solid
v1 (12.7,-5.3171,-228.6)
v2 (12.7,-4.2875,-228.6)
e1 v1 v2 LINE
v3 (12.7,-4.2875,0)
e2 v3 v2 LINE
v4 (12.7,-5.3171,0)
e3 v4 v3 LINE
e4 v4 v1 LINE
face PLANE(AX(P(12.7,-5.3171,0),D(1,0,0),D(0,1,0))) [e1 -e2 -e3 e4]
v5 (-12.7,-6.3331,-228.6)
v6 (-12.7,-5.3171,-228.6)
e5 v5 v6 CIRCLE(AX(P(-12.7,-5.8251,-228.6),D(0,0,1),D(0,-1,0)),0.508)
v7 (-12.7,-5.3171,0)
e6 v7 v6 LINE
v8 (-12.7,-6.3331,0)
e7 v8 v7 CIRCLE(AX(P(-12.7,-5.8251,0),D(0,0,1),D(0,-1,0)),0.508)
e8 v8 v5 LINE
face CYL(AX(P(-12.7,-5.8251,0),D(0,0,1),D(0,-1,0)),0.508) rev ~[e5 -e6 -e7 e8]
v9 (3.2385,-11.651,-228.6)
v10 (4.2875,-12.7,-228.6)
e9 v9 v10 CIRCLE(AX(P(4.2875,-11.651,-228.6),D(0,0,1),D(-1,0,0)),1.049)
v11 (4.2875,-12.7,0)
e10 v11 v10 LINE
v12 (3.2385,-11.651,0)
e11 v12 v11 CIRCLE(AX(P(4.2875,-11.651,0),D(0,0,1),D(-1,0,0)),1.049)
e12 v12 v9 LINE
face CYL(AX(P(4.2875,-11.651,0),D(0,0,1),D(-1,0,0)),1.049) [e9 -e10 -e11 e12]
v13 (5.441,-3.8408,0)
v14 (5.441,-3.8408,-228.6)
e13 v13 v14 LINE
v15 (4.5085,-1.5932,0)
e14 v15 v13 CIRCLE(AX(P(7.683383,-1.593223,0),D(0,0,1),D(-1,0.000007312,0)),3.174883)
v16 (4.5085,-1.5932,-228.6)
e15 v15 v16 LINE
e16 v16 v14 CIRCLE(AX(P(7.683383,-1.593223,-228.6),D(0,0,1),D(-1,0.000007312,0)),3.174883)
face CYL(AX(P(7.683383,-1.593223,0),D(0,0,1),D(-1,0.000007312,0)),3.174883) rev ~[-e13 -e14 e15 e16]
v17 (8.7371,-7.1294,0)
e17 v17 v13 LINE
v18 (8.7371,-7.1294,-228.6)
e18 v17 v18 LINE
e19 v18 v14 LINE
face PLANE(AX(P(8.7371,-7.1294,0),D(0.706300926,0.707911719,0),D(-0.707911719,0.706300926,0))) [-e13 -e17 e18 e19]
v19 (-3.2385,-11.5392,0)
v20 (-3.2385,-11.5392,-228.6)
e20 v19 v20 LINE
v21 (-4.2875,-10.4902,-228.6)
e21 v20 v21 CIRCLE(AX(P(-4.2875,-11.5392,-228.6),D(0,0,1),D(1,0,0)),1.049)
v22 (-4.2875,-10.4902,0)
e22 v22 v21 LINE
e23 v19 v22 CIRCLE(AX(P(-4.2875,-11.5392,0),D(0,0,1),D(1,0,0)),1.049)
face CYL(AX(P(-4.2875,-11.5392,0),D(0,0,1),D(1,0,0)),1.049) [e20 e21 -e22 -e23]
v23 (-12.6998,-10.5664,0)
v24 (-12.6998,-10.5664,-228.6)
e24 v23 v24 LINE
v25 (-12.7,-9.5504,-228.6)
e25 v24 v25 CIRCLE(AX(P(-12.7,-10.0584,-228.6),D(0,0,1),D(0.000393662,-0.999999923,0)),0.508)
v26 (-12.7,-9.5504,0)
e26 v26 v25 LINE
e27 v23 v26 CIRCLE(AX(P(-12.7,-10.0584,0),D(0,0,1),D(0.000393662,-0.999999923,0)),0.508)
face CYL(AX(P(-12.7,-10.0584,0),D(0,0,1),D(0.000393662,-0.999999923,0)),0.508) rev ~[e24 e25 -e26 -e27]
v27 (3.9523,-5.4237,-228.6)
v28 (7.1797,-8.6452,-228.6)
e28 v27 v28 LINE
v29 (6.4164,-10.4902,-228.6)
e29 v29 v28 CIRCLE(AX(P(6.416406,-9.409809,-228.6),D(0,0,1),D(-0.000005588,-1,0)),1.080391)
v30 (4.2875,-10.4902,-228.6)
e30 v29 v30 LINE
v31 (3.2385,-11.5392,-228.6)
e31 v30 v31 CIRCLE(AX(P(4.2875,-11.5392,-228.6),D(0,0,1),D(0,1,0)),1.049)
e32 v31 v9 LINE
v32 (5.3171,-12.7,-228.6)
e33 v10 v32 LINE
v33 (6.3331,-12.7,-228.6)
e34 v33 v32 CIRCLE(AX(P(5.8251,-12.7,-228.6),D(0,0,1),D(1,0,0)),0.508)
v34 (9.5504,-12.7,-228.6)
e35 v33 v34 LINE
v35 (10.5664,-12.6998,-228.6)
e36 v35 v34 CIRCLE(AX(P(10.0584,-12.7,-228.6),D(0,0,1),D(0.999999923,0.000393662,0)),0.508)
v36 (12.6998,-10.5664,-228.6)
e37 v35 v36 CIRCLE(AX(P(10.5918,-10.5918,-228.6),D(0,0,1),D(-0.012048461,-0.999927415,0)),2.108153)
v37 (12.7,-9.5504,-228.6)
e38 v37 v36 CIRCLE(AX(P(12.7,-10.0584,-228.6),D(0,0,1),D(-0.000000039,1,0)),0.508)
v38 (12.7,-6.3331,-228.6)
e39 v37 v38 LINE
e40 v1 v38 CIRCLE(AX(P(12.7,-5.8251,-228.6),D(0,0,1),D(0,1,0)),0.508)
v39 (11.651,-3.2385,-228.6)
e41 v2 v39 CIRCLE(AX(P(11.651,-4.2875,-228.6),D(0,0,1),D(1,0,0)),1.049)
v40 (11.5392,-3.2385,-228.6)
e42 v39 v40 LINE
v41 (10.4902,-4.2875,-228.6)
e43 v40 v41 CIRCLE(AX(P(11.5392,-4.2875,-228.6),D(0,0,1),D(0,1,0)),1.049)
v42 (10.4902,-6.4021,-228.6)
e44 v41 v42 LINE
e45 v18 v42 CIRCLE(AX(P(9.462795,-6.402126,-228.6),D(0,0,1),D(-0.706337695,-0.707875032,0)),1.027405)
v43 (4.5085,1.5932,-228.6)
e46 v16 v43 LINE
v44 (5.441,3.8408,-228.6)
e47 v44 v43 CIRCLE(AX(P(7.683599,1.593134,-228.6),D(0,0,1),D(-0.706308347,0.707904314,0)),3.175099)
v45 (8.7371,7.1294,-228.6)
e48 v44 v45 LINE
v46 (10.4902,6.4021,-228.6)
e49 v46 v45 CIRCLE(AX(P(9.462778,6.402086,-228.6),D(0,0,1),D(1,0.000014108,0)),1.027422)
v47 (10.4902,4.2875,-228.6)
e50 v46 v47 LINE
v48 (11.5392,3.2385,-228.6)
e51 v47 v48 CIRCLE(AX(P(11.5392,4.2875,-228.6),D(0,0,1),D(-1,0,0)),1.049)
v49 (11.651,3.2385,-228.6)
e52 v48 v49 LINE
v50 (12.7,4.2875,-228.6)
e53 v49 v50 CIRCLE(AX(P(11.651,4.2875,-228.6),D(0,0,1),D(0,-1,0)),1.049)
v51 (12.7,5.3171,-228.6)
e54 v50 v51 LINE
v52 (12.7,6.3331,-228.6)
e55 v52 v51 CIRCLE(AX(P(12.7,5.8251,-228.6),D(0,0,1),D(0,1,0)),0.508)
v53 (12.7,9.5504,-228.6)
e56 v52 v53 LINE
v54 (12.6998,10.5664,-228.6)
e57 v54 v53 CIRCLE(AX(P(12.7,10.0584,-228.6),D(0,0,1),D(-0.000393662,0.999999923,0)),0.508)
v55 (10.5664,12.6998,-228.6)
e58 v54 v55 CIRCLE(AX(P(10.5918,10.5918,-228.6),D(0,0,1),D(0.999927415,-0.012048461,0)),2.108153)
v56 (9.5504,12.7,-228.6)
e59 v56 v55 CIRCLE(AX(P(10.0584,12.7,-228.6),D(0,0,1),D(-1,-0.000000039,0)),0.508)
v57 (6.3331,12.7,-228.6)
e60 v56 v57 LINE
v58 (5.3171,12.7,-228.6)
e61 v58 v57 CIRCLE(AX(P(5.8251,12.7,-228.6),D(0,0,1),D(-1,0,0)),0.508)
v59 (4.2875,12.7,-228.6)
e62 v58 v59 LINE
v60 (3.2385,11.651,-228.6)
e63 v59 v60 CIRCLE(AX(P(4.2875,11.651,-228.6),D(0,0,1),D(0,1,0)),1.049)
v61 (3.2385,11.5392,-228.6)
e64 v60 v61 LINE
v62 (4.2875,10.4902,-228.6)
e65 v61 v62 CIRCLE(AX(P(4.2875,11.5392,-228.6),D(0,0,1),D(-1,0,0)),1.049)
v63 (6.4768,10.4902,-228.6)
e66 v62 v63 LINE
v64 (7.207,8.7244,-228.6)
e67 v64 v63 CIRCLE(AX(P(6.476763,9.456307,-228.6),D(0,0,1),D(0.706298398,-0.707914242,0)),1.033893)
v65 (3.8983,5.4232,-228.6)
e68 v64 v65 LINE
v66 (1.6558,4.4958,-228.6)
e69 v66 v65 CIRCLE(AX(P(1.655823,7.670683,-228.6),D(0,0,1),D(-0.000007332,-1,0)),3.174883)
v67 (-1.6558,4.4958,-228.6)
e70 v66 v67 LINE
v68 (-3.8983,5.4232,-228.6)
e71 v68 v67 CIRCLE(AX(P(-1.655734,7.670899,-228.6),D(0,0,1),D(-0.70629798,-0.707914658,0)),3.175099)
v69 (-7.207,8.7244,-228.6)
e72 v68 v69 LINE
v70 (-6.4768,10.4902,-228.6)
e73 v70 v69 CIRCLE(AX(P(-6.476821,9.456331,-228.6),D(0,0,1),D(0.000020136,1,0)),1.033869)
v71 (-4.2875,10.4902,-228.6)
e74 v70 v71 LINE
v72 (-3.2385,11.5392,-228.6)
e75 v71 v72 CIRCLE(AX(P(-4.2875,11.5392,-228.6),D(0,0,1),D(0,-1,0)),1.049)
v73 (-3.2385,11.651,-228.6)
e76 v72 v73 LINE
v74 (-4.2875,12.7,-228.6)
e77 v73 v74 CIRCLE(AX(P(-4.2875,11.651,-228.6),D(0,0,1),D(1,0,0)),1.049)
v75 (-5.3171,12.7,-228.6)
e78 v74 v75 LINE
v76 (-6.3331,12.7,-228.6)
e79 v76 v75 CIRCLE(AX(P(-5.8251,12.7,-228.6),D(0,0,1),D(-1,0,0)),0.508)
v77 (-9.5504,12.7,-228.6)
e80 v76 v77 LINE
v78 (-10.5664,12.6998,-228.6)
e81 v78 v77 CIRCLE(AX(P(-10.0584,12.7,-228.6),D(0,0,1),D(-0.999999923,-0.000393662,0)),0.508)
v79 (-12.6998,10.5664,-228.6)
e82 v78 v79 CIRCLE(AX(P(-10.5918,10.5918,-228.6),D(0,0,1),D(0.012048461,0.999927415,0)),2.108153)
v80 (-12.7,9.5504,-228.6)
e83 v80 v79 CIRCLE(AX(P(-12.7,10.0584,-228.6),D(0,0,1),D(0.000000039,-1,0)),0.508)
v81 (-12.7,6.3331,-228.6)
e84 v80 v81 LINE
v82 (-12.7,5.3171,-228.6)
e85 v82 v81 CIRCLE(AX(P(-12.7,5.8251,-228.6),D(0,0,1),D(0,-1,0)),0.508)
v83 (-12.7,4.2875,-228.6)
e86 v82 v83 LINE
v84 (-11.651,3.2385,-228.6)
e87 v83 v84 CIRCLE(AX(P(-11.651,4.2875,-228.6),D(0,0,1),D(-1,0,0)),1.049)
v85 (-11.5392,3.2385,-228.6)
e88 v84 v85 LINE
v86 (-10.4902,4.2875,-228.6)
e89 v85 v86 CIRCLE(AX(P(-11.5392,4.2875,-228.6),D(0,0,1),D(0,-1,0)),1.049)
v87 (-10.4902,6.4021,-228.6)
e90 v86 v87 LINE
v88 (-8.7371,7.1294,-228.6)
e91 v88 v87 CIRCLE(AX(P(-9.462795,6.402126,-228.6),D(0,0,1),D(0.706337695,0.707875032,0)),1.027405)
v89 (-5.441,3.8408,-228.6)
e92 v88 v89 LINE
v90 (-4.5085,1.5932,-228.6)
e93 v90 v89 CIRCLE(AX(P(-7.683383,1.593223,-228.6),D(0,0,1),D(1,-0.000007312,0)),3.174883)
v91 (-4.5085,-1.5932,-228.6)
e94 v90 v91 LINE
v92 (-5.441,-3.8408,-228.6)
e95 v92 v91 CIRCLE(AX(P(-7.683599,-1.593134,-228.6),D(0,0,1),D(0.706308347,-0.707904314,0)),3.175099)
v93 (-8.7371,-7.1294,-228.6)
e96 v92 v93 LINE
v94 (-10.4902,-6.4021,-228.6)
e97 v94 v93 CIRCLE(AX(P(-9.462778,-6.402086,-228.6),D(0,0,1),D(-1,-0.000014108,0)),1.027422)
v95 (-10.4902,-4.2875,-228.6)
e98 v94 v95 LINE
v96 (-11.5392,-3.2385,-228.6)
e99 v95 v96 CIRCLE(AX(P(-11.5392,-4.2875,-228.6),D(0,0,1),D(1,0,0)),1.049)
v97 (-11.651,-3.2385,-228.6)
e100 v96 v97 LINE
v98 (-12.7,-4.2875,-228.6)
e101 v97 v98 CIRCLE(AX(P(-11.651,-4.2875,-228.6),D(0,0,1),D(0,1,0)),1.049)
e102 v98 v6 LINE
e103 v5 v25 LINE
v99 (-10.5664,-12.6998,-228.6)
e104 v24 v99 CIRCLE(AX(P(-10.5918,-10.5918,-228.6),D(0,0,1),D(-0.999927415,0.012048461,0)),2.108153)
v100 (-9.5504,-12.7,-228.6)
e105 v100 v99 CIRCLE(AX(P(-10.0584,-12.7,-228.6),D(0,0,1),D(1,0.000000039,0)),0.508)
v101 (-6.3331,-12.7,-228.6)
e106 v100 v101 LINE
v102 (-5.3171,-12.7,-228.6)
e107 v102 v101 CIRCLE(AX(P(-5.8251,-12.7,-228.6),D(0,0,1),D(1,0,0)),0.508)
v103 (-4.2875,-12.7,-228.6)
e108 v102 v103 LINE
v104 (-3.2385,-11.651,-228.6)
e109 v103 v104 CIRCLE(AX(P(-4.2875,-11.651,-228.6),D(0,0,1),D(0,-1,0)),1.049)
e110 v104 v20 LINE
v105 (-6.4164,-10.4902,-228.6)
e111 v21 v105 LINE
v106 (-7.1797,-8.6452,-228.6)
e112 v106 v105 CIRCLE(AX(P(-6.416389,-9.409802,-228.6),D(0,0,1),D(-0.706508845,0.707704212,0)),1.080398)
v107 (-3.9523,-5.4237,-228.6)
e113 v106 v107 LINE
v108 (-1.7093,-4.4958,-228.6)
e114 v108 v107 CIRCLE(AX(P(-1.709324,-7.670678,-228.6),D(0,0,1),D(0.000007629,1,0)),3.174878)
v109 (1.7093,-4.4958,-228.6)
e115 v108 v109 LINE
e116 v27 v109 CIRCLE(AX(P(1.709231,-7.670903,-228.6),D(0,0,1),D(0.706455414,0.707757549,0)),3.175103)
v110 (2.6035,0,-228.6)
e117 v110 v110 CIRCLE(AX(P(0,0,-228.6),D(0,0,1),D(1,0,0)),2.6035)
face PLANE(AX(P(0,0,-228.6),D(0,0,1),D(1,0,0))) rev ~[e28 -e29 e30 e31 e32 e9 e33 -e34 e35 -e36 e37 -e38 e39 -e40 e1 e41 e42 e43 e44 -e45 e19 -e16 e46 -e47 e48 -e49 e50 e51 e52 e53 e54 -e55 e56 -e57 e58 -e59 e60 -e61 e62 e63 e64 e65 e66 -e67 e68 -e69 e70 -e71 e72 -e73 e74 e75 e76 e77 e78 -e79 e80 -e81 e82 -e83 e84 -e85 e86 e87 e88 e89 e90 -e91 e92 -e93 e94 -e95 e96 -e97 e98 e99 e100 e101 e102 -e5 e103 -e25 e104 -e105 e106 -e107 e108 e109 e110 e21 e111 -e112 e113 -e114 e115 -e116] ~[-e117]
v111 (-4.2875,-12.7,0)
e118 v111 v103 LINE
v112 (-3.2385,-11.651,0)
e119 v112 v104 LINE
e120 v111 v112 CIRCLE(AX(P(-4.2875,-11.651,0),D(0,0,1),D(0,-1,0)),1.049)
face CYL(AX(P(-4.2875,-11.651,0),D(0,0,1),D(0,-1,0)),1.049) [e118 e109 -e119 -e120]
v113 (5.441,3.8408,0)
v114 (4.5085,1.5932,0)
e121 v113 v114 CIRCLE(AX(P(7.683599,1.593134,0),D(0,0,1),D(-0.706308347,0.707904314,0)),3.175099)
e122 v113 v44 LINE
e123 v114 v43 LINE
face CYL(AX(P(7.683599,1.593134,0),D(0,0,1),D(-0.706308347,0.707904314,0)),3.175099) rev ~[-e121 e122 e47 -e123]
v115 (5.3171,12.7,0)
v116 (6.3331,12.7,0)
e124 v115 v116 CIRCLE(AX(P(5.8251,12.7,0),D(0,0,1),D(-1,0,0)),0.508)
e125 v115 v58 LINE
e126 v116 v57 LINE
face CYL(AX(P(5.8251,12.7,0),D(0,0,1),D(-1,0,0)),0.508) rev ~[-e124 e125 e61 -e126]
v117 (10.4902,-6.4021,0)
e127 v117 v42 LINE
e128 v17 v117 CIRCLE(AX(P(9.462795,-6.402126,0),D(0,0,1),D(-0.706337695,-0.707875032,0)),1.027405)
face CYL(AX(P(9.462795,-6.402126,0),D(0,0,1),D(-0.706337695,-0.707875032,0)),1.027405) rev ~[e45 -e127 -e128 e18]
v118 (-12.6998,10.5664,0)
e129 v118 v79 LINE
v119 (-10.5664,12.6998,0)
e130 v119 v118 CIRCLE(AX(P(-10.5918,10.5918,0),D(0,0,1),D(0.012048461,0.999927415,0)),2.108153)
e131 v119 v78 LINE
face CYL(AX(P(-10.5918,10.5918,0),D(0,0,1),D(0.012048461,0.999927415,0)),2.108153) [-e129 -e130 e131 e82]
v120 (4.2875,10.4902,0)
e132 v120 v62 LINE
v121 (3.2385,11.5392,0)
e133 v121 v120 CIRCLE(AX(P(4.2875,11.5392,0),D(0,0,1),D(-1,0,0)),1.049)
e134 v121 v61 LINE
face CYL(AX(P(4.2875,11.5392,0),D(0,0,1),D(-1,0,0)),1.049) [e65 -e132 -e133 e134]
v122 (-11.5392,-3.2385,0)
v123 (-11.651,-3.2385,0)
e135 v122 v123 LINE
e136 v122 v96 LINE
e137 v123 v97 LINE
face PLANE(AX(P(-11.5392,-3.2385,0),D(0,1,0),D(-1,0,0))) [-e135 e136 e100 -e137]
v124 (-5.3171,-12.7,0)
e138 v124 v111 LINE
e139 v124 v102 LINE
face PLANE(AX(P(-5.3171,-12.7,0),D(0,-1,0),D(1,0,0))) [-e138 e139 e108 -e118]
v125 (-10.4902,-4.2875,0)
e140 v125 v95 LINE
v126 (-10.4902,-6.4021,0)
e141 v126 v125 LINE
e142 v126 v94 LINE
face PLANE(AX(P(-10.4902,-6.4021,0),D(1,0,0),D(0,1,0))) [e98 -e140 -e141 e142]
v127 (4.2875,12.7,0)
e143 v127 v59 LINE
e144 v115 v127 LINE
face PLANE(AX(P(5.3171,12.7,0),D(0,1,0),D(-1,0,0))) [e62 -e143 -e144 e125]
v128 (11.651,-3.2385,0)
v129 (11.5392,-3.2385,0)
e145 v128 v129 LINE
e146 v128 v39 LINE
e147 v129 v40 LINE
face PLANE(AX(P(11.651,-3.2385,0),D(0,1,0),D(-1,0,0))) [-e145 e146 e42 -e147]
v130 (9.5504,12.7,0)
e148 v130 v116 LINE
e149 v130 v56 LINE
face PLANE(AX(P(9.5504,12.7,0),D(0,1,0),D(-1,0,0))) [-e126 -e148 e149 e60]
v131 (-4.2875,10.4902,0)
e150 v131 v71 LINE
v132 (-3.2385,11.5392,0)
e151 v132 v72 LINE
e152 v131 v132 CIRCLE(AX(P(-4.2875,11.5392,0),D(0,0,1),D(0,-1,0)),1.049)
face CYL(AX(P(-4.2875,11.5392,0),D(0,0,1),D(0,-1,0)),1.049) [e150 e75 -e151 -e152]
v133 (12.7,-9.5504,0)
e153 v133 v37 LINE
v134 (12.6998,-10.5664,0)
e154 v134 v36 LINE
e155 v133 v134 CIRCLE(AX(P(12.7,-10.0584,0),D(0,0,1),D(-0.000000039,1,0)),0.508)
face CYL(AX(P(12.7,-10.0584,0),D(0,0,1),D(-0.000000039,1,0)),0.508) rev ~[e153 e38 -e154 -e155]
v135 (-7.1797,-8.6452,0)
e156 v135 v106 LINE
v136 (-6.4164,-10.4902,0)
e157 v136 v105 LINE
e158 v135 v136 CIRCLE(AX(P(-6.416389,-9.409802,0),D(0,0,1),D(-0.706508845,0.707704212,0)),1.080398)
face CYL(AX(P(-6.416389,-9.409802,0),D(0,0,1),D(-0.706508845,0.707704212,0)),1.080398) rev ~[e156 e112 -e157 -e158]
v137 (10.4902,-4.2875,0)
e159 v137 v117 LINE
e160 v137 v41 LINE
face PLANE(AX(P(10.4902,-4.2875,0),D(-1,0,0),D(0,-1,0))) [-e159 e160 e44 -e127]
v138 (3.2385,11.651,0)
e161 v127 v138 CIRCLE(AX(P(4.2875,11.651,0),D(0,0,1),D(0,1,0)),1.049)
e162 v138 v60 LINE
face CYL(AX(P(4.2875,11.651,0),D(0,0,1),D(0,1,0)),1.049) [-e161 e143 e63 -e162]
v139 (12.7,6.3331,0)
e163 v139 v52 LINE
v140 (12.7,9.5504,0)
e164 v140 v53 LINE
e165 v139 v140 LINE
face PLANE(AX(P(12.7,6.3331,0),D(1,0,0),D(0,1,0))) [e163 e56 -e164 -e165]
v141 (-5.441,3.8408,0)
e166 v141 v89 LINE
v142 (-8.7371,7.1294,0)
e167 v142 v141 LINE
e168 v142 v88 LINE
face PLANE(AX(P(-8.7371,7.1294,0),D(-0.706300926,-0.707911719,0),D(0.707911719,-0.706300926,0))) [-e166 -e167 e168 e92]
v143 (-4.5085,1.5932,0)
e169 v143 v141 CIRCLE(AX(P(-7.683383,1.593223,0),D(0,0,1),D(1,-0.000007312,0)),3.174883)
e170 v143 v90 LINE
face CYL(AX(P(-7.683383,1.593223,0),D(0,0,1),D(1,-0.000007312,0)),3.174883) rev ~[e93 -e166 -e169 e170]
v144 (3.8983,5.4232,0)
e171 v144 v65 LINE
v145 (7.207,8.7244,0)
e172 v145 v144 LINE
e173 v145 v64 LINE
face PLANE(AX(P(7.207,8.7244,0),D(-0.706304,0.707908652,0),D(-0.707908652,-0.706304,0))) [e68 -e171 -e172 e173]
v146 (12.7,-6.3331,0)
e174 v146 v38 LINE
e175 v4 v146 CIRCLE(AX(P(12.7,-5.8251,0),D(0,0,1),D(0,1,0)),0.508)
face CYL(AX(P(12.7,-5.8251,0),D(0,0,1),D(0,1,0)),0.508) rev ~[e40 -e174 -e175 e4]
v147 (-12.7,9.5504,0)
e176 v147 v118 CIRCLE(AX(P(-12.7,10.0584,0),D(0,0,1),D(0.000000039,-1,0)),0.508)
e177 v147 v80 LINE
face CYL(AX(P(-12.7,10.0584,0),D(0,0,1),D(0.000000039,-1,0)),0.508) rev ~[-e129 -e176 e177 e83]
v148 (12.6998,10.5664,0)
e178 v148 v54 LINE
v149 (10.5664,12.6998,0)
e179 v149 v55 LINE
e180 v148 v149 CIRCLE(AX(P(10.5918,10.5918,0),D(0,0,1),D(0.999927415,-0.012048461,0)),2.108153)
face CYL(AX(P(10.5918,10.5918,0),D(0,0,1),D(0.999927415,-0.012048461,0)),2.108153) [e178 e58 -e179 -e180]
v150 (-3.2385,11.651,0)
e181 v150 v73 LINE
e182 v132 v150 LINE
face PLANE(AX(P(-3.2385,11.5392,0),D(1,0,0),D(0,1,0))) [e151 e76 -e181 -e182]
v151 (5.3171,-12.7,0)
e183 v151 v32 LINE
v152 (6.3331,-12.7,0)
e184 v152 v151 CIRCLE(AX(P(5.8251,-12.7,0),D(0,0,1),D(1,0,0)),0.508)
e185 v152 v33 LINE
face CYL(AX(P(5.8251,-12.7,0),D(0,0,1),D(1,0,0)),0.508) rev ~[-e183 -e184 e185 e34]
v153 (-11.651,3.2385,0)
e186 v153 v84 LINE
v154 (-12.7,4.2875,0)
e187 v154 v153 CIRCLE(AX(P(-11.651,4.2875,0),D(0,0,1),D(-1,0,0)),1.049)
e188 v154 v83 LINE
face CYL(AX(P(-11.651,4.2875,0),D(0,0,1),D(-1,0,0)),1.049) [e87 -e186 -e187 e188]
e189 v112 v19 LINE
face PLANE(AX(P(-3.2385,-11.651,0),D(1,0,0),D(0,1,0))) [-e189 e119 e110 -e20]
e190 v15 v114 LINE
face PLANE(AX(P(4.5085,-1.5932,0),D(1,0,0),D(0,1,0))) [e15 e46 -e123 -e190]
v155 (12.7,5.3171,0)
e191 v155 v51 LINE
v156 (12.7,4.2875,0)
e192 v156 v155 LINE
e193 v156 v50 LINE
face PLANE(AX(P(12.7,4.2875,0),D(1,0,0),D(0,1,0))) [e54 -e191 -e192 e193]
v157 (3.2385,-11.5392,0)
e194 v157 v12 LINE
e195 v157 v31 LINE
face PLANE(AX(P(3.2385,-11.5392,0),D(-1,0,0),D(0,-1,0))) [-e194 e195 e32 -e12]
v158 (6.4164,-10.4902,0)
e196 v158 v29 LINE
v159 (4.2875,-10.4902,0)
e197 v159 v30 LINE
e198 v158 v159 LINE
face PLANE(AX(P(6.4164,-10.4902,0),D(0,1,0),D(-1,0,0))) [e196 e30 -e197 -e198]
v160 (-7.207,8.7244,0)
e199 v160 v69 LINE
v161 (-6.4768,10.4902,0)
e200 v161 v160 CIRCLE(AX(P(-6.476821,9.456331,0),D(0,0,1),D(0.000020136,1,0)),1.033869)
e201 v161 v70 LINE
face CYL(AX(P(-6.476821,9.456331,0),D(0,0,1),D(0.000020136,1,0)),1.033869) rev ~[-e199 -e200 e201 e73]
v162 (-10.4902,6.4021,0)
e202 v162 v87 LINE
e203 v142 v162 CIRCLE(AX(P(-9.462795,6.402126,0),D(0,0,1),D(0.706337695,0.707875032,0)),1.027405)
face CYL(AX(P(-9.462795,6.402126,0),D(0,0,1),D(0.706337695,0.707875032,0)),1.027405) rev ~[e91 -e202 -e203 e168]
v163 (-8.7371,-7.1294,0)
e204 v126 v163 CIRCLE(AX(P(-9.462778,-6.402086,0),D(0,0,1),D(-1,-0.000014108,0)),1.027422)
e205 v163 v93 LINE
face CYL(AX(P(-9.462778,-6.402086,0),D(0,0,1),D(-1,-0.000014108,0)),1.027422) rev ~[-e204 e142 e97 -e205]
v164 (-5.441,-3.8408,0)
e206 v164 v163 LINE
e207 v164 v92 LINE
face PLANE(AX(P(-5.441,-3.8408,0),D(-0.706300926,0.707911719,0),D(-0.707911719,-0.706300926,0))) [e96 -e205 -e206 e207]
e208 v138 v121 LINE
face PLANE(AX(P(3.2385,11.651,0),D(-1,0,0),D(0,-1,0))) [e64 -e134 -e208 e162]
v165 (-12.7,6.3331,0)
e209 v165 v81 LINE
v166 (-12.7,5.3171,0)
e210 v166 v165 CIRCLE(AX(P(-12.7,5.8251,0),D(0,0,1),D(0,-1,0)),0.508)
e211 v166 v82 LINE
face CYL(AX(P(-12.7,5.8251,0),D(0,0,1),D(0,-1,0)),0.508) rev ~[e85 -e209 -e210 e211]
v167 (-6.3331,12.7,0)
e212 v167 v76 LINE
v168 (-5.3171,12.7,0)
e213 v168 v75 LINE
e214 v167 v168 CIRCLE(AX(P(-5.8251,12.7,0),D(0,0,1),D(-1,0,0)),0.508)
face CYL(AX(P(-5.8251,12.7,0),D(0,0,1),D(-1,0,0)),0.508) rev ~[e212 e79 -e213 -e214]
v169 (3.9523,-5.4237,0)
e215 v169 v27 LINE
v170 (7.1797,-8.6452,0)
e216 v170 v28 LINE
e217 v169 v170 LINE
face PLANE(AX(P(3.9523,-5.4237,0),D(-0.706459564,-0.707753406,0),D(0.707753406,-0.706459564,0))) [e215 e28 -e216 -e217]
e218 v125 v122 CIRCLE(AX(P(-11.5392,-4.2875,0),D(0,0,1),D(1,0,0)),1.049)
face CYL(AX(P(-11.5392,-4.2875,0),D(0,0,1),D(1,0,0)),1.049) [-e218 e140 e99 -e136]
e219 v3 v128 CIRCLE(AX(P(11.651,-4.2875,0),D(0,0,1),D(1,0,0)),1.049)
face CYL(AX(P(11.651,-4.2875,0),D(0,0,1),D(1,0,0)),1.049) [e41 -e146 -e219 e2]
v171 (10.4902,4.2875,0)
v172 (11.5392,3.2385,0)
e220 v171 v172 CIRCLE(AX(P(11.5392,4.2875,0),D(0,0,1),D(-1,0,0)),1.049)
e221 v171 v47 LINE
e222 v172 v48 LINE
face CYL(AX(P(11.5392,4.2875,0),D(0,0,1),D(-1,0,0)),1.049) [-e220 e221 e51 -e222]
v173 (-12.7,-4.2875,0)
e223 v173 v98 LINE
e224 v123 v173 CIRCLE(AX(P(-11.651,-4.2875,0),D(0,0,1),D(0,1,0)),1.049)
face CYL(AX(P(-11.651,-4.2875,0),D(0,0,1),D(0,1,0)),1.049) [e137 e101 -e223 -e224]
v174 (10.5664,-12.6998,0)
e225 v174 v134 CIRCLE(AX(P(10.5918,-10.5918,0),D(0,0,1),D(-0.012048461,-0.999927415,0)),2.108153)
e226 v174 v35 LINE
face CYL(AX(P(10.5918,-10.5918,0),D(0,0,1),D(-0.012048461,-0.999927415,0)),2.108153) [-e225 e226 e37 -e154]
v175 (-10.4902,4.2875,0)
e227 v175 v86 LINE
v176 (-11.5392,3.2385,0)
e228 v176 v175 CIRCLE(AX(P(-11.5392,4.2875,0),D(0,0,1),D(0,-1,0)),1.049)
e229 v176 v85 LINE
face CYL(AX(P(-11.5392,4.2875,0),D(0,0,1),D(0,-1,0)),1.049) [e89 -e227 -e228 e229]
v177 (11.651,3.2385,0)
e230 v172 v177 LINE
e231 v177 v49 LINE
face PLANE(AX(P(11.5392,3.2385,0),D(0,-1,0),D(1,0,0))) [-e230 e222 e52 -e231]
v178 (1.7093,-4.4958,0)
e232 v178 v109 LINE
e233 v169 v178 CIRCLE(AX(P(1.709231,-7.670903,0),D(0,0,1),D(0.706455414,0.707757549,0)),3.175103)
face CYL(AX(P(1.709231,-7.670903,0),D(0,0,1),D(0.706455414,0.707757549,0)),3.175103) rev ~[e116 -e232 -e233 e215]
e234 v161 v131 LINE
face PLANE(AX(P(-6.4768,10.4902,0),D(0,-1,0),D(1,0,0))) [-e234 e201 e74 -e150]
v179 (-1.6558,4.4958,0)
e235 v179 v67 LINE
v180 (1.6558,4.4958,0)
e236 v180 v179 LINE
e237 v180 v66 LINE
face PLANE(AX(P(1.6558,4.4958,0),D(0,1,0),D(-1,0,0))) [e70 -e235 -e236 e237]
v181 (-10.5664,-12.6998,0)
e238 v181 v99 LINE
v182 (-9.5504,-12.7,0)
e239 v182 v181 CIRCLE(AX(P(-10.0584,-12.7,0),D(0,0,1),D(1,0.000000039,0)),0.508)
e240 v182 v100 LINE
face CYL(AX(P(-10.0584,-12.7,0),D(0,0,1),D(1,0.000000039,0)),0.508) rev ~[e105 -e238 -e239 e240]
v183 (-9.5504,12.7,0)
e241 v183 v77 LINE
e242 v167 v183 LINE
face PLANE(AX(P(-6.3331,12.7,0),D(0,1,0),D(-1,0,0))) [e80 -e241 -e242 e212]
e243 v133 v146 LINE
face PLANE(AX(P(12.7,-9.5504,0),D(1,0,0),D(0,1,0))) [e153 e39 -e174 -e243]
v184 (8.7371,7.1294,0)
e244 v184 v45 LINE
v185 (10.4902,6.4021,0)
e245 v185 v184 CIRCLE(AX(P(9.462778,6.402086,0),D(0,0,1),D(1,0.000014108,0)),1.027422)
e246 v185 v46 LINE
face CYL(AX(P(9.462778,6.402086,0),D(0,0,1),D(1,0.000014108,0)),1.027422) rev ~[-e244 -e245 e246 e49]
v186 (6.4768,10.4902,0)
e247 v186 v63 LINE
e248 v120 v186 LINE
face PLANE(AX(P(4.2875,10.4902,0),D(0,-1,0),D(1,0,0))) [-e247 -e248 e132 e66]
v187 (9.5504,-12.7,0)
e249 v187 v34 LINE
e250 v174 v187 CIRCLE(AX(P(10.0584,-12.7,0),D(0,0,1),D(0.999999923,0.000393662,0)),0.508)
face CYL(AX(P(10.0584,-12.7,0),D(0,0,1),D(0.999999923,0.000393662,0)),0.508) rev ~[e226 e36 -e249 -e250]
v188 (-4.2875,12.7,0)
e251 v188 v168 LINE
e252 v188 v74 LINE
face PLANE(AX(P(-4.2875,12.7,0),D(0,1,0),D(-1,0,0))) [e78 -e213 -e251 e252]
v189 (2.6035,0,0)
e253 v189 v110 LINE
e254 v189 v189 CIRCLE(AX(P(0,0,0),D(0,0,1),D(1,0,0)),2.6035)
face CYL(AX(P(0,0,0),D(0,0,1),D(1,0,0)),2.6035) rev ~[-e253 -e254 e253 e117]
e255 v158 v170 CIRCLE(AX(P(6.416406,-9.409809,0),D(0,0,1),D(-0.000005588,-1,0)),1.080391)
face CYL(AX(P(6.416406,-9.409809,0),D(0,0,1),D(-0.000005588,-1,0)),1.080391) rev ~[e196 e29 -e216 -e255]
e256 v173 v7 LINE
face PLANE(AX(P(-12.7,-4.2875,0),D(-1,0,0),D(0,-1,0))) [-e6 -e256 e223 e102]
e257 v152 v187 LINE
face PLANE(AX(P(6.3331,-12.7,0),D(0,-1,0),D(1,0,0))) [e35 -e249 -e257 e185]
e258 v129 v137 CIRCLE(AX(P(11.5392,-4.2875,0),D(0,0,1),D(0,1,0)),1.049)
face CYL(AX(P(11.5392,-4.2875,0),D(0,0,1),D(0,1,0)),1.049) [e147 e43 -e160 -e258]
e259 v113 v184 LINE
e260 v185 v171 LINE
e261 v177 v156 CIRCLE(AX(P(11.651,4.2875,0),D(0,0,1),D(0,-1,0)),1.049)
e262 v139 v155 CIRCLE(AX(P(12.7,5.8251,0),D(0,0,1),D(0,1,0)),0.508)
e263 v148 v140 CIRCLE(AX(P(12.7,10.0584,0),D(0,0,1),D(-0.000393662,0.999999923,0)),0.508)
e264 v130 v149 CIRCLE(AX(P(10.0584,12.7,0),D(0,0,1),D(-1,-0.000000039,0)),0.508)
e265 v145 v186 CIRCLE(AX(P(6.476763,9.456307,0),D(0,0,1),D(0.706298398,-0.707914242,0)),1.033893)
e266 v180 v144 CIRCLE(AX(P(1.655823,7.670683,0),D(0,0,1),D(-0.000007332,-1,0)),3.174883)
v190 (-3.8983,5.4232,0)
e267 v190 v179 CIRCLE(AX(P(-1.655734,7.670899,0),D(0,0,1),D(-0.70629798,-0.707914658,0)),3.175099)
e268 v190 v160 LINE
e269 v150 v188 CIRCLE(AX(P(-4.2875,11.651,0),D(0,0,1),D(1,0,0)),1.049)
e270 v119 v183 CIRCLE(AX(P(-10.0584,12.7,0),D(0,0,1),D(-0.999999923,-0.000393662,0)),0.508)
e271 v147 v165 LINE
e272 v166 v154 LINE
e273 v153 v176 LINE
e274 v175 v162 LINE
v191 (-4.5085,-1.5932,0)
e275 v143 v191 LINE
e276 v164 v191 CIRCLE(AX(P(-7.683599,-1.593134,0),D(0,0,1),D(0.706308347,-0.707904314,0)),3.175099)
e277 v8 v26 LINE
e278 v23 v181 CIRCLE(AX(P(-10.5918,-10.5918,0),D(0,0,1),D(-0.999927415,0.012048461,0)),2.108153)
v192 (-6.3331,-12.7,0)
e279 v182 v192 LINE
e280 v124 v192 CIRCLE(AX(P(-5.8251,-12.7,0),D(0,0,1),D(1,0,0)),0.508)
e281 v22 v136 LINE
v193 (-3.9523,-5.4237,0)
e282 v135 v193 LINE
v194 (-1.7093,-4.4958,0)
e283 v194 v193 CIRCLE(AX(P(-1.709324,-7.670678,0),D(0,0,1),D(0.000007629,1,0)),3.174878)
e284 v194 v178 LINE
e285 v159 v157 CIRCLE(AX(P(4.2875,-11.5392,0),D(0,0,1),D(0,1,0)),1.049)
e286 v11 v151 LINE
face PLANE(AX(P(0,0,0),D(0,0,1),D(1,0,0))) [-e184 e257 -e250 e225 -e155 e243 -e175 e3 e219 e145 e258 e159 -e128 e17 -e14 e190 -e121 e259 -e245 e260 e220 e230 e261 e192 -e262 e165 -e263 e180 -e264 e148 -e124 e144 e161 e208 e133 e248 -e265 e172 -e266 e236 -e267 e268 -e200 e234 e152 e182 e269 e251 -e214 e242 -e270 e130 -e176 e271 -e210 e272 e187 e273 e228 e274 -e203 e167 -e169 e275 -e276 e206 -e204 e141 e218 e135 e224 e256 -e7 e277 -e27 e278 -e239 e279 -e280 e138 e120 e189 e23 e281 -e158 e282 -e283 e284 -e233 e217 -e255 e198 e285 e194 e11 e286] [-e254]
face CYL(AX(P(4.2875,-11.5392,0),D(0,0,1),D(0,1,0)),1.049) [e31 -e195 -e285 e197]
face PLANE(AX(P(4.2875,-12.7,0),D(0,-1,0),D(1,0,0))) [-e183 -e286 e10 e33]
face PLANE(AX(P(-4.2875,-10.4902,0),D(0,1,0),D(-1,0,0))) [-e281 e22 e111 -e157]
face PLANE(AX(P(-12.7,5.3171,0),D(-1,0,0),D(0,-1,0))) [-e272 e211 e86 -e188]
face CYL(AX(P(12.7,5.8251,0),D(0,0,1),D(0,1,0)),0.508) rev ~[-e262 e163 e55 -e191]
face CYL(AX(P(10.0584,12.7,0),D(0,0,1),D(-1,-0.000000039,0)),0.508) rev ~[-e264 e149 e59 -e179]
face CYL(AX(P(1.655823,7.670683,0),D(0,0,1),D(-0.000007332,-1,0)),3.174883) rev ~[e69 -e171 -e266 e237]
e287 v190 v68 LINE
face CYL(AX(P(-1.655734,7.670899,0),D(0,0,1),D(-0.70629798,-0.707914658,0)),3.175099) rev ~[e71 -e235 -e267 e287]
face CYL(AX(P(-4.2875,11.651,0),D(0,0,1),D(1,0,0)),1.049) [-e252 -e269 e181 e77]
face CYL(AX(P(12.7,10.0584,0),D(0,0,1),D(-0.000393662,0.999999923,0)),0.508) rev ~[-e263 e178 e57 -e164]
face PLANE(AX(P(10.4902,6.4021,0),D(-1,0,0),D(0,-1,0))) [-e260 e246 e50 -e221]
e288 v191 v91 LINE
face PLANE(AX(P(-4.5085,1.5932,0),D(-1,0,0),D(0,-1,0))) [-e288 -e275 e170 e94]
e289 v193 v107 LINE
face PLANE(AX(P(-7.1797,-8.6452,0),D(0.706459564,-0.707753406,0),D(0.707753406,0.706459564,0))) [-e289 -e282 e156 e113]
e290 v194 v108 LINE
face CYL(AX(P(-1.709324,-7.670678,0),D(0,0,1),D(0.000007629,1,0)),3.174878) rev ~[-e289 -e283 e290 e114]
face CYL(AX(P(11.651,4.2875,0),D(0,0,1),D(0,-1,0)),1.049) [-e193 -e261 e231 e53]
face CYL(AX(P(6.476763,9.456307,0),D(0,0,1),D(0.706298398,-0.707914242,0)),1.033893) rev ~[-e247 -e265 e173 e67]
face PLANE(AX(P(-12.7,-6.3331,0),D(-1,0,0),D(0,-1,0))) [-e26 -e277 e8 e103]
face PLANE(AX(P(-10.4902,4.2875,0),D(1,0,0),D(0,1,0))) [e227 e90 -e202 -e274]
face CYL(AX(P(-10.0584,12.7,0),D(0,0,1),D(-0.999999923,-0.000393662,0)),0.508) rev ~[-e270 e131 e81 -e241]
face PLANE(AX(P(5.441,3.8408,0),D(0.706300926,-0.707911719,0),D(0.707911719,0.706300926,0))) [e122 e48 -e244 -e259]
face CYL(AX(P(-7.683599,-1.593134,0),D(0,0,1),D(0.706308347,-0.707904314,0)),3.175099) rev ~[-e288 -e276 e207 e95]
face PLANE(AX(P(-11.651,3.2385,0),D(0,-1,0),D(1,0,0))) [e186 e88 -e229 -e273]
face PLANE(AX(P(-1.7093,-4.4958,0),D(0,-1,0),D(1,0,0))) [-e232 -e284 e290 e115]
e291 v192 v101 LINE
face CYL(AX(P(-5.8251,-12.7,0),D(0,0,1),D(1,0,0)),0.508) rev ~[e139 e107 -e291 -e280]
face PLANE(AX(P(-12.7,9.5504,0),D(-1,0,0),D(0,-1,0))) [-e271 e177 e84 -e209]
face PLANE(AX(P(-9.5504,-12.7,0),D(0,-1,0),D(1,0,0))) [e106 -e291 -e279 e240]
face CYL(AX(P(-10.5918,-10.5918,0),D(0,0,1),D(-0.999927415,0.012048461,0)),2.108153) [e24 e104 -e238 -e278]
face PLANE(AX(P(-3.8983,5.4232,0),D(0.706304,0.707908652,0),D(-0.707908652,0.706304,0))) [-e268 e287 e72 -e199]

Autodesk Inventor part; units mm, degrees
ref_plane "YZ Plane" through (0, 0, 0) normal (1, 0, 0) x (0, 1, 0)
ref_plane "XZ Plane" through (0, 0, 0) normal (0, 1, 0) x (-1, 0, 0)
ref_plane "XY Plane" through (0, 0, 0) normal (0, 0, 1) x (1, 0, 0)
sketch "Sketch1" plane through (0, 0, 0) normal (0, 0, 1) x (1, 0, 0)
  circle A0 centre (0, 0) radius 2.6035
  arc A1 (-1.7093, -4.4958) -> (-3.9523, -5.4237) centre (-1.7093, -7.6708) ccw
  line L0 (-1.7093, -4.4958) -> (1.7093, -4.4958)
  arc A2 (3.9523, -5.4237) -> (1.7093, -4.4958) centre (1.7093, -7.6708) ccw
  line L1 (3.9523, -5.4237) -> (7.1797, -8.6452)
  arc A3 (6.4164, -10.4902) -> (7.1797, -8.6452) centre (6.4164, -9.4098) ccw
  line L2 (6.4164, -10.4902) -> (4.2875, -10.4902)
  arc A4 (4.2875, -10.4902) -> (3.2385, -11.5392) centre (4.2875, -11.5392) ccw
  line L3 (3.2385, -11.5392) -> (3.2385, -11.651)
  arc A5 (3.2385, -11.651) -> (4.2875, -12.7) centre (4.2875, -11.651) ccw
  line L4 (4.2875, -12.7) -> (5.3171, -12.7)
  arc A6 (6.3331, -12.7) -> (5.3171, -12.7) centre (5.8251, -12.7) ccw
  line L5 (6.3331, -12.7) -> (9.5504, -12.7)
  arc A7 (10.5664, -12.6998) -> (9.5504, -12.7) centre (10.0584, -12.7) ccw
  arc A8 (10.5664, -12.6998) -> (12.6998, -10.5664) centre (10.5918, -10.5918) ccw
  arc A9 (12.7, -9.5504) -> (12.6998, -10.5664) centre (12.7, -10.0584) ccw
  line L6 (12.7, -9.5504) -> (12.7, -6.3331)
  arc A10 (12.7, -5.3171) -> (12.7, -6.3331) centre (12.7, -5.8251) ccw
  line L7 (12.7, -5.3171) -> (12.7, -4.2875)
  arc A11 (12.7, -4.2875) -> (11.651, -3.2385) centre (11.651, -4.2875) ccw
  line L8 (11.651, -3.2385) -> (11.5392, -3.2385)
  arc A12 (11.5392, -3.2385) -> (10.4902, -4.2875) centre (11.5392, -4.2875) ccw
  line L9 (10.4902, -4.2875) -> (10.4902, -6.4021)
  arc A13 (8.7371, -7.1294) -> (10.4902, -6.4021) centre (9.4628, -6.4021) ccw
  line L10 (8.7371, -7.1294) -> (5.441, -3.8408)
  arc A14 (4.5085, -1.5932) -> (5.441, -3.8408) centre (7.6835, -1.5932) ccw
  line L11 (4.5085, -1.5932) -> (4.5085, 1.5932)
  arc A15 (5.441, 3.8408) -> (4.5085, 1.5932) centre (7.6835, 1.5932) ccw
  line L12 (5.441, 3.8408) -> (8.7371, 7.1294)
  arc A16 (10.4902, 6.4021) -> (8.7371, 7.1294) centre (9.4628, 6.4021) ccw
  line L13 (10.4902, 6.4021) -> (10.4902, 4.2875)
  arc A17 (10.4902, 4.2875) -> (11.5392, 3.2385) centre (11.5392, 4.2875) ccw
  line L14 (11.5392, 3.2385) -> (11.651, 3.2385)
  arc A18 (11.651, 3.2385) -> (12.7, 4.2875) centre (11.651, 4.2875) ccw
  line L15 (12.7, 4.2875) -> (12.7, 5.3171)
  arc A19 (12.7, 6.3331) -> (12.7, 5.3171) centre (12.7, 5.8251) ccw
  line L16 (12.7, 6.3331) -> (12.7, 9.5504)
  arc A20 (12.6998, 10.5664) -> (12.7, 9.5504) centre (12.7, 10.0584) ccw
  arc A21 (12.6998, 10.5664) -> (10.5664, 12.6998) centre (10.5918, 10.5918) ccw
  arc A22 (9.5504, 12.7) -> (10.5664, 12.6998) centre (10.0584, 12.7) ccw
  line L17 (9.5504, 12.7) -> (6.3331, 12.7)
  arc A23 (5.3171, 12.7) -> (6.3331, 12.7) centre (5.8251, 12.7) ccw
  line L18 (5.3171, 12.7) -> (4.2875, 12.7)
  arc A24 (4.2875, 12.7) -> (3.2385, 11.651) centre (4.2875, 11.651) ccw
  line L19 (3.2385, 11.651) -> (3.2385, 11.5392)
  arc A25 (3.2385, 11.5392) -> (4.2875, 10.4902) centre (4.2875, 11.5392) ccw
  line L20 (4.2875, 10.4902) -> (6.4768, 10.4902)
  arc A26 (7.207, 8.7244) -> (6.4768, 10.4902) centre (6.4768, 9.4563) ccw
  line L21 (7.207, 8.7244) -> (3.8983, 5.4232)
  arc A27 (1.6558, 4.4958) -> (3.8983, 5.4232) centre (1.6558, 7.6708) ccw
  line L22 (1.6558, 4.4958) -> (-1.6558, 4.4958)
  arc A28 (-3.8983, 5.4232) -> (-1.6558, 4.4958) centre (-1.6558, 7.6708) ccw
  line L23 (-3.8983, 5.4232) -> (-7.207, 8.7244)
  arc A29 (-6.4768, 10.4902) -> (-7.207, 8.7244) centre (-6.4768, 9.4563) ccw
  line L24 (-6.4768, 10.4902) -> (-4.2875, 10.4902)
  arc A30 (-4.2875, 10.4902) -> (-3.2385, 11.5392) centre (-4.2875, 11.5392) ccw
  line L25 (-3.2385, 11.5392) -> (-3.2385, 11.651)
  arc A31 (-3.2385, 11.651) -> (-4.2875, 12.7) centre (-4.2875, 11.651) ccw
  line L26 (-4.2875, 12.7) -> (-5.3171, 12.7)
  arc A32 (-6.3331, 12.7) -> (-5.3171, 12.7) centre (-5.8251, 12.7) ccw
  line L27 (-6.3331, 12.7) -> (-9.5504, 12.7)
  arc A33 (-10.5664, 12.6998) -> (-9.5504, 12.7) centre (-10.0584, 12.7) ccw
  arc A34 (-10.5664, 12.6998) -> (-12.6998, 10.5664) centre (-10.5918, 10.5918) ccw
  arc A35 (-12.7, 9.5504) -> (-12.6998, 10.5664) centre (-12.7, 10.0584) ccw
  line L28 (-12.7, 9.5504) -> (-12.7, 6.3331)
  arc A36 (-12.7, 5.3171) -> (-12.7, 6.3331) centre (-12.7, 5.8251) ccw
  line L29 (-12.7, 5.3171) -> (-12.7, 4.2875)
  arc A37 (-12.7, 4.2875) -> (-11.651, 3.2385) centre (-11.651, 4.2875) ccw
  line L30 (-11.651, 3.2385) -> (-11.5392, 3.2385)
  arc A38 (-11.5392, 3.2385) -> (-10.4902, 4.2875) centre (-11.5392, 4.2875) ccw
  line L31 (-10.4902, 4.2875) -> (-10.4902, 6.4021)
  arc A39 (-8.7371, 7.1294) -> (-10.4902, 6.4021) centre (-9.4628, 6.4021) ccw
  line L32 (-8.7371, 7.1294) -> (-5.441, 3.8408)
  arc A40 (-4.5085, 1.5932) -> (-5.441, 3.8408) centre (-7.6835, 1.5932) ccw
  line L33 (-4.5085, 1.5932) -> (-4.5085, -1.5932)
  arc A41 (-5.441, -3.8408) -> (-4.5085, -1.5932) centre (-7.6835, -1.5932) ccw
  line L34 (-5.441, -3.8408) -> (-8.7371, -7.1294)
  arc A42 (-10.4902, -6.4021) -> (-8.7371, -7.1294) centre (-9.4628, -6.4021) ccw
  line L35 (-10.4902, -6.4021) -> (-10.4902, -4.2875)
  arc A43 (-10.4902, -4.2875) -> (-11.5392, -3.2385) centre (-11.5392, -4.2875) ccw
  line L36 (-11.5392, -3.2385) -> (-11.651, -3.2385)
  arc A44 (-11.651, -3.2385) -> (-12.7, -4.2875) centre (-11.651, -4.2875) ccw
  line L37 (-12.7, -4.2875) -> (-12.7, -5.3171)
  arc A45 (-12.7, -6.3331) -> (-12.7, -5.3171) centre (-12.7, -5.8251) ccw
  line L38 (-12.7, -6.3331) -> (-12.7, -9.5504)
  arc A46 (-12.6998, -10.5664) -> (-12.7, -9.5504) centre (-12.7, -10.0584) ccw
  arc A47 (-12.6998, -10.5664) -> (-10.5664, -12.6998) centre (-10.5918, -10.5918) ccw
  arc A48 (-9.5504, -12.7) -> (-10.5664, -12.6998) centre (-10.0584, -12.7) ccw
  line L39 (-9.5504, -12.7) -> (-6.3331, -12.7)
  arc A49 (-5.3171, -12.7) -> (-6.3331, -12.7) centre (-5.8251, -12.7) ccw
  line L40 (-5.3171, -12.7) -> (-4.2875, -12.7)
  arc A50 (-4.2875, -12.7) -> (-3.2385, -11.651) centre (-4.2875, -11.651) ccw
  line L41 (-3.2385, -11.651) -> (-3.2385, -11.5392)
  arc A51 (-3.2385, -11.5392) -> (-4.2875, -10.4902) centre (-4.2875, -11.5392) ccw
  line L42 (-4.2875, -10.4902) -> (-6.4164, -10.4902)
  arc A52 (-7.1797, -8.6452) -> (-6.4164, -10.4902) centre (-6.4164, -9.4098) ccw
  line L43 (-7.1797, -8.6452) -> (-3.9523, -5.4237)
extrude "Extrusion1" add sketch "Sketch1" against normal blind 228.6
sketch "Sketch2" plane through (0, 0, 0) normal (1, 0, 0) x (0, 1, 0)
  point P0 (0, 0)
properties part number "Hook base"
